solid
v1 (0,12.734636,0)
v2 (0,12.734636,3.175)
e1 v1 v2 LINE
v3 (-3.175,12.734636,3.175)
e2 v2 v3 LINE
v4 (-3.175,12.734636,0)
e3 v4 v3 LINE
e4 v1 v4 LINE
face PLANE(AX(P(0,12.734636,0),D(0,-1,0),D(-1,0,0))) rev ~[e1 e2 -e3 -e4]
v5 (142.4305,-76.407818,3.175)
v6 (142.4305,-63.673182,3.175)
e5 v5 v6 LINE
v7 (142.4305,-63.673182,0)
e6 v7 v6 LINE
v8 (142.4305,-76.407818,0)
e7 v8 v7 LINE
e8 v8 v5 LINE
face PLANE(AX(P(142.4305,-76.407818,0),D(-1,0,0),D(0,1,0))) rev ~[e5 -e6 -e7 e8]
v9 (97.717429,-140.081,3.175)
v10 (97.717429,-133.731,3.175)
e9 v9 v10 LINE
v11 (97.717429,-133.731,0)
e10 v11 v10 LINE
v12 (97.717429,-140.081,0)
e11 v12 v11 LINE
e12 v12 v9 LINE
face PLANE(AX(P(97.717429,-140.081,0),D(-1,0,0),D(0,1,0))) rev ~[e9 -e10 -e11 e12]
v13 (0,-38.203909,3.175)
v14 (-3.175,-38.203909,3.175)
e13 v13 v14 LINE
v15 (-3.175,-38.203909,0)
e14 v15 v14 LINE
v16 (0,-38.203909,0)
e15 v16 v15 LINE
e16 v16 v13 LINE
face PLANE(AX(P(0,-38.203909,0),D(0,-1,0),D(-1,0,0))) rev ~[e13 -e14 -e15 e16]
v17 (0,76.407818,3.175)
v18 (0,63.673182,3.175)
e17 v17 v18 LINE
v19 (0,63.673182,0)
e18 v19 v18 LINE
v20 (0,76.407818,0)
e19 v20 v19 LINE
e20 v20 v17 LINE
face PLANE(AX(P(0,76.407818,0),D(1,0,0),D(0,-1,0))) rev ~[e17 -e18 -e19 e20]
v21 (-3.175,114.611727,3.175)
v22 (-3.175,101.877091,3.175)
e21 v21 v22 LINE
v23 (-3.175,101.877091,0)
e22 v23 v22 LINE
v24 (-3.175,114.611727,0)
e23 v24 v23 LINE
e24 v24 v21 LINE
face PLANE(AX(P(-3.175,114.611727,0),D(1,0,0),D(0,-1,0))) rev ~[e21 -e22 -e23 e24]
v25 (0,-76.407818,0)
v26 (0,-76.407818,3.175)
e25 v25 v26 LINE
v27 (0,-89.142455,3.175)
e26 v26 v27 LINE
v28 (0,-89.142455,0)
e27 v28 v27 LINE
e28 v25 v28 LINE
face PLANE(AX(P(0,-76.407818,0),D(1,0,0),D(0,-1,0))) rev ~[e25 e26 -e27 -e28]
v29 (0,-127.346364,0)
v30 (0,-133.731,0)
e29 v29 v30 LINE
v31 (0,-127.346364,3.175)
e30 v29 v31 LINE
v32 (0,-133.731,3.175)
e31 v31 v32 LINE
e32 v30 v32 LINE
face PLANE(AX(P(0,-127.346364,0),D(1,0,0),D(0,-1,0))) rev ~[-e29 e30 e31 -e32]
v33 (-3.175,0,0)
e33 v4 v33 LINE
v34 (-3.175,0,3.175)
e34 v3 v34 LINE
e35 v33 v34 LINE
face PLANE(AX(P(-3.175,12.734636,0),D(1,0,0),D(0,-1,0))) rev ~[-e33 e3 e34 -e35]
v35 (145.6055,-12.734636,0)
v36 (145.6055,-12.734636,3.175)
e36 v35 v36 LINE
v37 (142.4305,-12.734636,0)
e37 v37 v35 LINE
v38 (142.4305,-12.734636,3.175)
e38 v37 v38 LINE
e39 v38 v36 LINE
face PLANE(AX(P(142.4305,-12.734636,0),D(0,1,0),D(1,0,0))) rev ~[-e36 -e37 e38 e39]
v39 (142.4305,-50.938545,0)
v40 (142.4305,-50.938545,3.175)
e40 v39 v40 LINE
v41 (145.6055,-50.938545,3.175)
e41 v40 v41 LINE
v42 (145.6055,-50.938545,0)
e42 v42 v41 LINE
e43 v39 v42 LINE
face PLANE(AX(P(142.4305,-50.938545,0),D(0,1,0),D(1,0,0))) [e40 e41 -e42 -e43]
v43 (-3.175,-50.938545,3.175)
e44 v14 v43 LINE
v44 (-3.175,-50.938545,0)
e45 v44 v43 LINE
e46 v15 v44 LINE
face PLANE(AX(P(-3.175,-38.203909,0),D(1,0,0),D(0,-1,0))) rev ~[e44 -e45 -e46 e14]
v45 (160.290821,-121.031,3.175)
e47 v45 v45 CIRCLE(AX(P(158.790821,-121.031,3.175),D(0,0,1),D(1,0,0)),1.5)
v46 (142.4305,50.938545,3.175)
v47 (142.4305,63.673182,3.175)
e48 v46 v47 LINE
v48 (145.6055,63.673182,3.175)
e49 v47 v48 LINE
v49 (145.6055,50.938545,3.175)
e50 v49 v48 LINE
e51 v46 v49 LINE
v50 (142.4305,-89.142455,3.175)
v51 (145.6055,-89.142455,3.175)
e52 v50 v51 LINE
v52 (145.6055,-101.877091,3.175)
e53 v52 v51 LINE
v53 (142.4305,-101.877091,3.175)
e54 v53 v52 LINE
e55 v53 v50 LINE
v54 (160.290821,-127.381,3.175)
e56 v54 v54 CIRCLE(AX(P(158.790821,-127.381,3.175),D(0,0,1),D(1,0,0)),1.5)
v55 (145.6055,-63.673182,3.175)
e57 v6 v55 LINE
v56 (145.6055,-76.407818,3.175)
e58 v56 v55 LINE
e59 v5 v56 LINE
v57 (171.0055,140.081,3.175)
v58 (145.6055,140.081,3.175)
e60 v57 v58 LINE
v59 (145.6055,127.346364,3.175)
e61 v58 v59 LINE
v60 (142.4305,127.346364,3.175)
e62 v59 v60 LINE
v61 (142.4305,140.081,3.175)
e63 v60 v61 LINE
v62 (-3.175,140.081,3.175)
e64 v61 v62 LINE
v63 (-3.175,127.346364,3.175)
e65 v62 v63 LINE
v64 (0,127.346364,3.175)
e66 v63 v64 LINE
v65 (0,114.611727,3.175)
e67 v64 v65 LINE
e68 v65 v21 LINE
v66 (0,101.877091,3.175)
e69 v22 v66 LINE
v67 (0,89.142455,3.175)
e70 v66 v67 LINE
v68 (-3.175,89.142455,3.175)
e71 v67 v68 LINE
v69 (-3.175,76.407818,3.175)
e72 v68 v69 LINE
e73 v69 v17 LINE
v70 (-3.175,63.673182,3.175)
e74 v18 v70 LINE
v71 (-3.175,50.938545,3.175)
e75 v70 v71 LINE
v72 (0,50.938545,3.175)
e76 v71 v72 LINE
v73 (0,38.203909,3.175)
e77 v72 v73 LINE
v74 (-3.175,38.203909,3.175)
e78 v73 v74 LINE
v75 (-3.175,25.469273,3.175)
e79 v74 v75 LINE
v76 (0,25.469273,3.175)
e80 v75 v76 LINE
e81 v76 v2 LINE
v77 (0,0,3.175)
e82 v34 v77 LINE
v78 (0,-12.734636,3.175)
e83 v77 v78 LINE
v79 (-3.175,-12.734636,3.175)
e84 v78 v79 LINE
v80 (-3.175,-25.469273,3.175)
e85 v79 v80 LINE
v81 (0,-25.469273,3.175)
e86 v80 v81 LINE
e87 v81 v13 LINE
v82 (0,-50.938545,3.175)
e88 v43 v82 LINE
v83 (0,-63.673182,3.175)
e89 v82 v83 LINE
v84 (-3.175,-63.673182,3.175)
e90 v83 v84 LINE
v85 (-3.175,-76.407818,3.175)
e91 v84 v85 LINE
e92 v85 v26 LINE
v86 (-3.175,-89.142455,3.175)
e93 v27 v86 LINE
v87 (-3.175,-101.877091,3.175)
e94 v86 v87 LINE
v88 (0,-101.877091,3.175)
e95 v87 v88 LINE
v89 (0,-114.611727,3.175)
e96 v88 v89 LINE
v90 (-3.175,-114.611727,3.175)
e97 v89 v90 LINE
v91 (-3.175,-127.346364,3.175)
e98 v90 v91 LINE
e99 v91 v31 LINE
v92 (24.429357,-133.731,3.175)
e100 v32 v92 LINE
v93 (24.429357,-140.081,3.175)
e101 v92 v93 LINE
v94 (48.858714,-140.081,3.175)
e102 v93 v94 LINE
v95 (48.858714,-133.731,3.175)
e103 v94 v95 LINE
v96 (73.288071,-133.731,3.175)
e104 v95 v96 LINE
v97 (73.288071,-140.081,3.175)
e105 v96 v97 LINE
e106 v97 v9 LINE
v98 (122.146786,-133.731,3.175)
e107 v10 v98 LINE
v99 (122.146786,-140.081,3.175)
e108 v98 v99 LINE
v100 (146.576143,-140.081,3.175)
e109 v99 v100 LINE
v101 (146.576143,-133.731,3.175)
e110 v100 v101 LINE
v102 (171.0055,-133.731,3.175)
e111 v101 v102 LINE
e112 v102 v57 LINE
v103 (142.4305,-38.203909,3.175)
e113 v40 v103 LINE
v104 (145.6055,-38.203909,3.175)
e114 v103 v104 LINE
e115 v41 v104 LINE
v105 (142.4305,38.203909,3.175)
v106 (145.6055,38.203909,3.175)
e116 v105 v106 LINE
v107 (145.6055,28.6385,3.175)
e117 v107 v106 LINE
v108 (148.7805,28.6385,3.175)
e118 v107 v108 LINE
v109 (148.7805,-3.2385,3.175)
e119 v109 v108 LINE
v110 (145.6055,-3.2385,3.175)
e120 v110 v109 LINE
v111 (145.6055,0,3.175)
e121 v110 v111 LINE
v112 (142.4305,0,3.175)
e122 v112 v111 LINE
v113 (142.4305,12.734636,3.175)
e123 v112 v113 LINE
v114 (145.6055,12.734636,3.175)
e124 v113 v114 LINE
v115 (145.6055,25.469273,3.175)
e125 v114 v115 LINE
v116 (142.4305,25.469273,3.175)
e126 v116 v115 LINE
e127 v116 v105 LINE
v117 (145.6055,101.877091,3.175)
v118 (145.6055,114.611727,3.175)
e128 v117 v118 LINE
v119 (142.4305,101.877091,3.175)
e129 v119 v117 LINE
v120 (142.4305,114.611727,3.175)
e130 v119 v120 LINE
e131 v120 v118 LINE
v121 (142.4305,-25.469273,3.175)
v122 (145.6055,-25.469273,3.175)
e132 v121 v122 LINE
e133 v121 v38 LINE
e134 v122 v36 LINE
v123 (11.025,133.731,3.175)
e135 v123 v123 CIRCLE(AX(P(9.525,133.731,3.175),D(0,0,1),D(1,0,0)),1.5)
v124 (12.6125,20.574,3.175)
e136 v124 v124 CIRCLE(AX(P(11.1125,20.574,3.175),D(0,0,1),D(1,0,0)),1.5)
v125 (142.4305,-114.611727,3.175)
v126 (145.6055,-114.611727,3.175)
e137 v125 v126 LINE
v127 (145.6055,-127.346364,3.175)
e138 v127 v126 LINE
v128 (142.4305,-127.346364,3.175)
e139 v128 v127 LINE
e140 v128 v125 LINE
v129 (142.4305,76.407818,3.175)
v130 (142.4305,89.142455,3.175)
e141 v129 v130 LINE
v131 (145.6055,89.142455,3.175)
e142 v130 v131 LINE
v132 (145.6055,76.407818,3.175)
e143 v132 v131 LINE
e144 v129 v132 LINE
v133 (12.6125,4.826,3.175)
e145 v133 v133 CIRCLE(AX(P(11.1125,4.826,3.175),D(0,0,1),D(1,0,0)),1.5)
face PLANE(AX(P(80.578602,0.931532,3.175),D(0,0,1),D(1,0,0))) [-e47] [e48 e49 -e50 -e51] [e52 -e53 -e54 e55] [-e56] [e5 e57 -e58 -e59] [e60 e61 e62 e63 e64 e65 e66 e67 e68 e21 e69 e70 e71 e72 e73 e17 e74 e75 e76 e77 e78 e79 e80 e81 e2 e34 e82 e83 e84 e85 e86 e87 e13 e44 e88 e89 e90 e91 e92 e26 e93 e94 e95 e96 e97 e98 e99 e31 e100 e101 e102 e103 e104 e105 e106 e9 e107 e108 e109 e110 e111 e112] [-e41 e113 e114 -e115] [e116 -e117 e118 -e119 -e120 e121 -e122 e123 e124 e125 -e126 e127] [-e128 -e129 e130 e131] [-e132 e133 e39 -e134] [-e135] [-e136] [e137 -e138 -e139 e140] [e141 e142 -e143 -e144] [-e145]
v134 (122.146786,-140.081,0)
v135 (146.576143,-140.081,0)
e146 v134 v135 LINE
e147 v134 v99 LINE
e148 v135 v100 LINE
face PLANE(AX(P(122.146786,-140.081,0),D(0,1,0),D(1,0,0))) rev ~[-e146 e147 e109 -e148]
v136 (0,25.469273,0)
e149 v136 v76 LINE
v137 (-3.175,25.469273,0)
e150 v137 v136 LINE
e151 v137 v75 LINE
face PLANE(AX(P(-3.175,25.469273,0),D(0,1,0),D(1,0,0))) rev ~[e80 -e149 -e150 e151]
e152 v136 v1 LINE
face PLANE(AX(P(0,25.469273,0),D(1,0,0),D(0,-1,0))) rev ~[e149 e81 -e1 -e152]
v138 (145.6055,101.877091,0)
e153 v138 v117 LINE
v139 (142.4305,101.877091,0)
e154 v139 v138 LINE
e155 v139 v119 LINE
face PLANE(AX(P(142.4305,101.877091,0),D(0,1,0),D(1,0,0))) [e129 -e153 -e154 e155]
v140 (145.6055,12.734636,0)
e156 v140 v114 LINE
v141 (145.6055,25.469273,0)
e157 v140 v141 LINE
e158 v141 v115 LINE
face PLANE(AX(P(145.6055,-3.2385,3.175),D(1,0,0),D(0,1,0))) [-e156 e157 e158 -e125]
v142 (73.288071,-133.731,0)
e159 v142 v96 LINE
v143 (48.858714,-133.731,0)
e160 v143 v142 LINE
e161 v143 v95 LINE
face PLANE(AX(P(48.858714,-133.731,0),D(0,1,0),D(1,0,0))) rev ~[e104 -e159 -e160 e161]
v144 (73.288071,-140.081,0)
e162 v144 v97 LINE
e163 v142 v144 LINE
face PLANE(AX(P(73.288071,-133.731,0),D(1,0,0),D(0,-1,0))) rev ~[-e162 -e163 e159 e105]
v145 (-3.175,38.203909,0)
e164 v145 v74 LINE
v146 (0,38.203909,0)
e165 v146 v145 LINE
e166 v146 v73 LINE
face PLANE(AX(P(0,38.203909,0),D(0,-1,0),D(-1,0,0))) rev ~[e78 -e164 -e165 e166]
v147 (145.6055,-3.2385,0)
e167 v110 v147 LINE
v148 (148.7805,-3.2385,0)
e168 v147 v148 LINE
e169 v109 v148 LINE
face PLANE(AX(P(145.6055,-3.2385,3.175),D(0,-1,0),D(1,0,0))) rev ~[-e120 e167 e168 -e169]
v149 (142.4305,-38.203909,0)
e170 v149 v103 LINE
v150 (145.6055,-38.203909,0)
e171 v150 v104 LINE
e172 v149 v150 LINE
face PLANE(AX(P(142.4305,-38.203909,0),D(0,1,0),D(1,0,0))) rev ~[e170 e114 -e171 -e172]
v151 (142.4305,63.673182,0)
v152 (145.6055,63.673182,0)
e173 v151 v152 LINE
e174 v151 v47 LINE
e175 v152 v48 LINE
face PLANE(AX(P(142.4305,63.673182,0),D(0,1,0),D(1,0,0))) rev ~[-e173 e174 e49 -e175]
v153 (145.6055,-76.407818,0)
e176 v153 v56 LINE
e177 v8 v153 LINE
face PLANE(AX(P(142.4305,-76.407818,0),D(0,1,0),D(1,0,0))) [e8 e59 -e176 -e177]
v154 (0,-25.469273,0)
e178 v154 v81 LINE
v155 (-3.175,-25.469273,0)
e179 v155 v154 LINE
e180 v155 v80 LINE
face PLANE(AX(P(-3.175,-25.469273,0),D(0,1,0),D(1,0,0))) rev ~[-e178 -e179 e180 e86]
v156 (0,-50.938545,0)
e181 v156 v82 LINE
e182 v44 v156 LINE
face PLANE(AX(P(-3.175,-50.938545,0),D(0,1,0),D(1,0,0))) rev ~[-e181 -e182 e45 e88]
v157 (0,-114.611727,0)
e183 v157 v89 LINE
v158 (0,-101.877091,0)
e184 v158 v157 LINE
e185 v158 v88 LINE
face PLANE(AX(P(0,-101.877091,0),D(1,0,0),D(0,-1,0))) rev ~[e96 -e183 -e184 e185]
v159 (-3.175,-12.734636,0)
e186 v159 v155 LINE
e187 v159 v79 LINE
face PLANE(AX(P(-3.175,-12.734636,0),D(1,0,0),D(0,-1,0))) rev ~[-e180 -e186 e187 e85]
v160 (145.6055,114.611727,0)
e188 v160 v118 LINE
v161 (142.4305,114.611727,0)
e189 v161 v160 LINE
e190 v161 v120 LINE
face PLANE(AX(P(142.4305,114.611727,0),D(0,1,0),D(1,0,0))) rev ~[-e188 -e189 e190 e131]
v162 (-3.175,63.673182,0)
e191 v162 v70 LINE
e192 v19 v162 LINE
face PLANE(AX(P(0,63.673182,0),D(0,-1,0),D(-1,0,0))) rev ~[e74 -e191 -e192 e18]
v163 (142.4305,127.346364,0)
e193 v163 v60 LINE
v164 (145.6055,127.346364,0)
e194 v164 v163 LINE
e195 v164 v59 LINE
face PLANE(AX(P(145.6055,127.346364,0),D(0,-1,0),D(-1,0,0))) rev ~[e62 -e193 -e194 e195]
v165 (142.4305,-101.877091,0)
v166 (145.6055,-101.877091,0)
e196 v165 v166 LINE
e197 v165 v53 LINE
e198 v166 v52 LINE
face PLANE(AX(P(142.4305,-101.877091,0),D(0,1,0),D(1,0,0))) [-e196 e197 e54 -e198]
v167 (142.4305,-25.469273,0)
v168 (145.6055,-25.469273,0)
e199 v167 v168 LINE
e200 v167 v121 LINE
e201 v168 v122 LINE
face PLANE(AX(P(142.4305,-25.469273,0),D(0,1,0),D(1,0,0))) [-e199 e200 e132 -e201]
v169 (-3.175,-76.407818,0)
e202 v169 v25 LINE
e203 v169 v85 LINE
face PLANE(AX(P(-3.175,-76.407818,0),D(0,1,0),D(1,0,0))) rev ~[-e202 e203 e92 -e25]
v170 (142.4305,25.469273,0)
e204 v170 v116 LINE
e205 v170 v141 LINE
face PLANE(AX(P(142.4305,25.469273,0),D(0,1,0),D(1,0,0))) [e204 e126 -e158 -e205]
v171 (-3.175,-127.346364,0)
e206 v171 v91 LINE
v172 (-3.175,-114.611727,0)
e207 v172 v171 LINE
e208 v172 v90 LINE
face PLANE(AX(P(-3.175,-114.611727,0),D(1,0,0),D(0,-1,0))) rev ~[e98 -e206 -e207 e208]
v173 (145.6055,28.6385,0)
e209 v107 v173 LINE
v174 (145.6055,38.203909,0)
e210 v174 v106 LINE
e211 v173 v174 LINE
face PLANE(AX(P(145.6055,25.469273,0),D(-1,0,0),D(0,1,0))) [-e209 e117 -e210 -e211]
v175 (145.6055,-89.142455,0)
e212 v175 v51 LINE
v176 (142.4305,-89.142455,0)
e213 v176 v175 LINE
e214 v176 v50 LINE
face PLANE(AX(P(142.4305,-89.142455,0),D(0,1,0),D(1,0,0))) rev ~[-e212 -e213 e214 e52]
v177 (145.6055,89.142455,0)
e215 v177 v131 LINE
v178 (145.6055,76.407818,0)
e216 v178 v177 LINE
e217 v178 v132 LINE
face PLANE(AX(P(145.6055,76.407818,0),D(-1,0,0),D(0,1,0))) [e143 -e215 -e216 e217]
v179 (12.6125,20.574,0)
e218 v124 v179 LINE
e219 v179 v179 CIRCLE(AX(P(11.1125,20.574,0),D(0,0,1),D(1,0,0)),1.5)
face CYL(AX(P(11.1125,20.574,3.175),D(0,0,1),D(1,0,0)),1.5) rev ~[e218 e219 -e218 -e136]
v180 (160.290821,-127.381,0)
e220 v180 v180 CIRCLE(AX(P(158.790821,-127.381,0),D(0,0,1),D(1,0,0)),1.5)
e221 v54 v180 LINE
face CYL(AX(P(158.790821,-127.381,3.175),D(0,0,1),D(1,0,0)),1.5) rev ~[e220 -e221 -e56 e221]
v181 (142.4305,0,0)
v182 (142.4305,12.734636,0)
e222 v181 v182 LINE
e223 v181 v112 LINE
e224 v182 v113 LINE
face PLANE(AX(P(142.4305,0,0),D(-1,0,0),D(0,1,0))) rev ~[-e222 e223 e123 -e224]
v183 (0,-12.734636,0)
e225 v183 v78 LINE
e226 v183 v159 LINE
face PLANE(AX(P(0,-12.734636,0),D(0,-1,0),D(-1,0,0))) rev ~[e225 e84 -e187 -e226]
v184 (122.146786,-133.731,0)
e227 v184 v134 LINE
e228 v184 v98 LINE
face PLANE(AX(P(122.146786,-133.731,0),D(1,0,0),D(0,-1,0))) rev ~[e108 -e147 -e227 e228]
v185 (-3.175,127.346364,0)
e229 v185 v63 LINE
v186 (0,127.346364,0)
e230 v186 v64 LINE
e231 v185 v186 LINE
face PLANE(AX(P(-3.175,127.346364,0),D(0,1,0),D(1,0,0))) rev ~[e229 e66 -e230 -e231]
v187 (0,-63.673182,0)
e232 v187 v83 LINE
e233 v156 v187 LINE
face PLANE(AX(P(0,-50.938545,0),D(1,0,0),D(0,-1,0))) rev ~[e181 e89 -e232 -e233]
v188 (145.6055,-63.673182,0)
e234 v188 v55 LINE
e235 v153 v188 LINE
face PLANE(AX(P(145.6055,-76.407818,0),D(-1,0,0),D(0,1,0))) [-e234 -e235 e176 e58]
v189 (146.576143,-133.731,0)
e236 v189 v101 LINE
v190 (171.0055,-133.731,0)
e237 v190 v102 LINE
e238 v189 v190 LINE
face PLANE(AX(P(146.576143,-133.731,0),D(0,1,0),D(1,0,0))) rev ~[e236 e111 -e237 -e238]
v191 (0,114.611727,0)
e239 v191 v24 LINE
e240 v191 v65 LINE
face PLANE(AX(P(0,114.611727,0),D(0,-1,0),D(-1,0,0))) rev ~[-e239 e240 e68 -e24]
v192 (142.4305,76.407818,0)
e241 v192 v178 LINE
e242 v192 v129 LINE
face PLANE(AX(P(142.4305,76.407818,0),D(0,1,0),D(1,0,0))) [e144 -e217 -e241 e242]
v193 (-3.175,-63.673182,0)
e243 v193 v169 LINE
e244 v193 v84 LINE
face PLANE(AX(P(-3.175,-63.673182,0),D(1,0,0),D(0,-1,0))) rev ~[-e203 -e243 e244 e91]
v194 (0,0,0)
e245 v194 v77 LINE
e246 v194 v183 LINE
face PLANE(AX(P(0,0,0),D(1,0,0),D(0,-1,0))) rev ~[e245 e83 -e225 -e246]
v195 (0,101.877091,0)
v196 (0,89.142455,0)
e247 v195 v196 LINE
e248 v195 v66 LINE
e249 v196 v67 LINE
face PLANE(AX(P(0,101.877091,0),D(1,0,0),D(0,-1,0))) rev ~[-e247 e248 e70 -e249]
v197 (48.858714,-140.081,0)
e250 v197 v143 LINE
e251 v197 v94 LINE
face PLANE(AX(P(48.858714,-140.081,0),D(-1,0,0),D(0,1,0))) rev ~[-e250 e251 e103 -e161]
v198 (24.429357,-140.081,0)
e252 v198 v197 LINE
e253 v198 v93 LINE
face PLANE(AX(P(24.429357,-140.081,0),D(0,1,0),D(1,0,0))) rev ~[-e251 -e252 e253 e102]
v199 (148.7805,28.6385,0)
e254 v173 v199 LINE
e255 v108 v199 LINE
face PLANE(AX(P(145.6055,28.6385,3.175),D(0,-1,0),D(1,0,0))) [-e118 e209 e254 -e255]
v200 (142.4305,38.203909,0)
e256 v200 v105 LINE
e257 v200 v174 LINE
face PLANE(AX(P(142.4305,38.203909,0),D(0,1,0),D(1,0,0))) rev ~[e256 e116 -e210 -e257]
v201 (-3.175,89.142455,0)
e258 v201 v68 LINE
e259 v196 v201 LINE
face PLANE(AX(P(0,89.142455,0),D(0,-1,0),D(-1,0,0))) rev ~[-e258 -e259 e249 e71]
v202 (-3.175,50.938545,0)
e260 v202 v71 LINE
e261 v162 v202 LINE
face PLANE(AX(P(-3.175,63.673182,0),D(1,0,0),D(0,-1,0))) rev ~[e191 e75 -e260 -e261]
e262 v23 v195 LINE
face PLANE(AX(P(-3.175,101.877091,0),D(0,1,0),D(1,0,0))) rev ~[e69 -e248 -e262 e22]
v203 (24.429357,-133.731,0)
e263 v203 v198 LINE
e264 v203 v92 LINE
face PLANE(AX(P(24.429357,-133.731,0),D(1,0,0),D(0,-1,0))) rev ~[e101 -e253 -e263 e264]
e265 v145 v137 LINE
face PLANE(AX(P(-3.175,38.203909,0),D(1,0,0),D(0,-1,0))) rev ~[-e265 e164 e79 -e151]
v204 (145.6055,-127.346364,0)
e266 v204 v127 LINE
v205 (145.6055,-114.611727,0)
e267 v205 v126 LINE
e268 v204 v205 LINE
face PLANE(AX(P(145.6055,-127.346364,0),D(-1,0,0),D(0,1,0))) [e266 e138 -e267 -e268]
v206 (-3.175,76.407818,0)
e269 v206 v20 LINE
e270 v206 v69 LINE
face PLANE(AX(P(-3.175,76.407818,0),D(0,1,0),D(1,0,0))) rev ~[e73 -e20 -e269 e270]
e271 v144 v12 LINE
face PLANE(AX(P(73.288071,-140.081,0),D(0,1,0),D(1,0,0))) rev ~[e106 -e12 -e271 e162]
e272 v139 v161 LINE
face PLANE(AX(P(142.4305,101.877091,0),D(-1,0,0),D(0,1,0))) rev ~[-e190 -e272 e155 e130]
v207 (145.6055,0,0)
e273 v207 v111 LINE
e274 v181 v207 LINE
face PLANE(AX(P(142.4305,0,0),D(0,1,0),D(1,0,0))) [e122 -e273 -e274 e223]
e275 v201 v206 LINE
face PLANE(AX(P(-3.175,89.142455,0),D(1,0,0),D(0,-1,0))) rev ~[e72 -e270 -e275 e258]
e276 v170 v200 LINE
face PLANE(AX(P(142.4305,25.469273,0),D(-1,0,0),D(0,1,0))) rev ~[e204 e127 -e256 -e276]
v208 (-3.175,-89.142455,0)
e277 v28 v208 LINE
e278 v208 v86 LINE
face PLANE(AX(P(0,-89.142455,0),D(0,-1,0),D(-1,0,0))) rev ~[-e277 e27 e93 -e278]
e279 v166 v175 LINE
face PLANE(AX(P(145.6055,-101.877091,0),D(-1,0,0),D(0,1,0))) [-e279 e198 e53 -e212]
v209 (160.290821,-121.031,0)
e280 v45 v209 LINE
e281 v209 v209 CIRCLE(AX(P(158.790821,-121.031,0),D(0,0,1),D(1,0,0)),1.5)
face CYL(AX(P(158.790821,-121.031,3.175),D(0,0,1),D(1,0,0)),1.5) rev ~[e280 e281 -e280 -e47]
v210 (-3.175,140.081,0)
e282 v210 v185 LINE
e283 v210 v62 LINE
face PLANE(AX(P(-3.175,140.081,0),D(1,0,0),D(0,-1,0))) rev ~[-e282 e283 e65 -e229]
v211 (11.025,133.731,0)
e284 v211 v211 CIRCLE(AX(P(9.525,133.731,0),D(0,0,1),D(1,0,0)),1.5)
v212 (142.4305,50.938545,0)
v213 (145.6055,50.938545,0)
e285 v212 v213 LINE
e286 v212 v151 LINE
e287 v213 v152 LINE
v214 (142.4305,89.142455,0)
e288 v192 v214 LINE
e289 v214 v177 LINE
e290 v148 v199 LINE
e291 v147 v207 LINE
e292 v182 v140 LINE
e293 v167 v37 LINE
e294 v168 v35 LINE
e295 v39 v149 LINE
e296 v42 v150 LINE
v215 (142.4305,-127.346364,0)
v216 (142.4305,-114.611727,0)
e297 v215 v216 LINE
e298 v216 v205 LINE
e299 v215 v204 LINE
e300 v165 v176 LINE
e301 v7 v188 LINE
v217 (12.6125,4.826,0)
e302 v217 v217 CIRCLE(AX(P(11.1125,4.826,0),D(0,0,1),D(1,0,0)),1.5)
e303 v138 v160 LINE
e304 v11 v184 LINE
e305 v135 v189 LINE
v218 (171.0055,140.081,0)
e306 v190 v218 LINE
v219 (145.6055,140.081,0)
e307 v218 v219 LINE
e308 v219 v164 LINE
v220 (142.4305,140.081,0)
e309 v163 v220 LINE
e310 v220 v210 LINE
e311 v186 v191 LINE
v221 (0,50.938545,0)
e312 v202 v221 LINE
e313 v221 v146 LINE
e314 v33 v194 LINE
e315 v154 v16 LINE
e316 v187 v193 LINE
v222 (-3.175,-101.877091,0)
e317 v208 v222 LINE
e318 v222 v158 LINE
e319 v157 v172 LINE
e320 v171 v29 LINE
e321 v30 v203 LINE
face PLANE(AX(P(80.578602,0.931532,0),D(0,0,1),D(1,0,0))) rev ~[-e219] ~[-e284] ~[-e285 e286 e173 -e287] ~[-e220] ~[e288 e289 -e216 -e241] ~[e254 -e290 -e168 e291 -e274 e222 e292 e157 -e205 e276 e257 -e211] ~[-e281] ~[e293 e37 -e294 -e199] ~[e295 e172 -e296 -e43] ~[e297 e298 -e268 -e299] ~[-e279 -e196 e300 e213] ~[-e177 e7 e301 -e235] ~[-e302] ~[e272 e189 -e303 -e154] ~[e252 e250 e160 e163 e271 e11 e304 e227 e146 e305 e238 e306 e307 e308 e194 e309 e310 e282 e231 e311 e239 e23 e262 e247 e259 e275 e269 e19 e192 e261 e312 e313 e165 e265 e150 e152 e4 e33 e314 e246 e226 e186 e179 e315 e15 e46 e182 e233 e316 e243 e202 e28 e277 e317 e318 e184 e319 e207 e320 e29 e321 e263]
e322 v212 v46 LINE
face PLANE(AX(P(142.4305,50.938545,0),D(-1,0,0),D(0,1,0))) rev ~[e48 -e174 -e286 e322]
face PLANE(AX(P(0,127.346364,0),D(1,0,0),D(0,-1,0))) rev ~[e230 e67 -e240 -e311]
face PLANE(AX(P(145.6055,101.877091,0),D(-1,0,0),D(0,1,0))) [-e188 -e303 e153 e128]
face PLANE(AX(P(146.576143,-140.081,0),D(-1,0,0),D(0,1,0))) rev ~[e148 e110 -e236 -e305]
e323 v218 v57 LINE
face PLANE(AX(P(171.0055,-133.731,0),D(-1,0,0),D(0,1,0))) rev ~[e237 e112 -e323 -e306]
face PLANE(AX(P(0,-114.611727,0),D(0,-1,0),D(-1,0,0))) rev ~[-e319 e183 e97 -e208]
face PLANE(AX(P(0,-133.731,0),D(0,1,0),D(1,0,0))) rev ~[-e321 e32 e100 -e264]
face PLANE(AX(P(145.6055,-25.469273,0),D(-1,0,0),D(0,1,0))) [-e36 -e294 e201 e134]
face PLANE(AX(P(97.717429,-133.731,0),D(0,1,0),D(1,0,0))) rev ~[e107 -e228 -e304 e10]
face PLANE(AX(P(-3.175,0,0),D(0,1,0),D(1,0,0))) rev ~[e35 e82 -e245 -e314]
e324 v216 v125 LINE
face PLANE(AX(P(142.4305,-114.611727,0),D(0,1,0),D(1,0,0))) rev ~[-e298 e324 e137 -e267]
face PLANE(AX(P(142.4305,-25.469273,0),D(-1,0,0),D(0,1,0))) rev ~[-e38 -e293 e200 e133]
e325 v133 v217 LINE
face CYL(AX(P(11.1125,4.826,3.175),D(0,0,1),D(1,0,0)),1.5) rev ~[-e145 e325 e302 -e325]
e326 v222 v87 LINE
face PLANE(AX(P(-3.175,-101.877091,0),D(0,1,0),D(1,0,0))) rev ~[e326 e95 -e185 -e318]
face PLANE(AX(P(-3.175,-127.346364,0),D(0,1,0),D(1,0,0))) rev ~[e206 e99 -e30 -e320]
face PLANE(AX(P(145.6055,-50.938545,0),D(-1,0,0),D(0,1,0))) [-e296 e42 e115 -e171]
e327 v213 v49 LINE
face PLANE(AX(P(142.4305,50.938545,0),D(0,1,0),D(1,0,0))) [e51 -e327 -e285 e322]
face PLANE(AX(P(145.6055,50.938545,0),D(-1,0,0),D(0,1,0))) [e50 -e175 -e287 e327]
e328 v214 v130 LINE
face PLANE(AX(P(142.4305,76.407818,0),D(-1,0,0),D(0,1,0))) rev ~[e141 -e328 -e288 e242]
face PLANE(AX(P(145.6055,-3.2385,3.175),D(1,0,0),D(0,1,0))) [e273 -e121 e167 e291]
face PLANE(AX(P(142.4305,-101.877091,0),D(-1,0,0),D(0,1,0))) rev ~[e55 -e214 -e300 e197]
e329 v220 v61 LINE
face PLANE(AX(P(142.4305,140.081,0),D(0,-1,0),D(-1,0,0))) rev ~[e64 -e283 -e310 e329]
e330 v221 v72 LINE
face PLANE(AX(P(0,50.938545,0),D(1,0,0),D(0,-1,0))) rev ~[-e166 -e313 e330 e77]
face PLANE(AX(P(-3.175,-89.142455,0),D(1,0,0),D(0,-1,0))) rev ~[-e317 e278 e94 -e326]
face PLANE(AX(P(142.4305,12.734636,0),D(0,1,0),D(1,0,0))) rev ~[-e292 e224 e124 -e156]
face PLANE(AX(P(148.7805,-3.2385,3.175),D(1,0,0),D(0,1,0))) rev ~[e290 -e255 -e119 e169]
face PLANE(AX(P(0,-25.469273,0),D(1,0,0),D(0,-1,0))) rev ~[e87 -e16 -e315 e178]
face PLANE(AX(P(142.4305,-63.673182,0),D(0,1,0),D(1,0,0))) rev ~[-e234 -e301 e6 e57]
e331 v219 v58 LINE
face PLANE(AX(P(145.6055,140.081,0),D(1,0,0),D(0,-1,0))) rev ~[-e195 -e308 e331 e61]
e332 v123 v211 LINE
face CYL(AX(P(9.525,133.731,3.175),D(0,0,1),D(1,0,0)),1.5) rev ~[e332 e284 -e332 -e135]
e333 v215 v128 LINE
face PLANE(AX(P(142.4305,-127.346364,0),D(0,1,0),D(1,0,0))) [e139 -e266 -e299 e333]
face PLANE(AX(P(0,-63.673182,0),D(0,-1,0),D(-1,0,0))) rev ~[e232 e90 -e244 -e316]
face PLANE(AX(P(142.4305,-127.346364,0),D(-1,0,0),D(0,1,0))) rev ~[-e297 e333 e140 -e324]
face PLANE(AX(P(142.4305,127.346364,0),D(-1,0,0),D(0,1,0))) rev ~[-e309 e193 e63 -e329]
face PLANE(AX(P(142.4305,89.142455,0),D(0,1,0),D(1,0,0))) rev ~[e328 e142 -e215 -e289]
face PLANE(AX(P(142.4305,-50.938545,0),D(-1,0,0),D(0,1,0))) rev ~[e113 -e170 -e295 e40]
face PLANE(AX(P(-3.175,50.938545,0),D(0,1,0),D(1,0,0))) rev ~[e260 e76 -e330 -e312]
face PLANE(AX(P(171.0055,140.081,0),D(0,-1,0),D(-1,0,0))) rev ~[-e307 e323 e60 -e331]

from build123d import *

# Parameters (mm, degrees)
SKETCH1_W           = 3.175
SKETCH1_H           = 12.734636364
SKETCH1_H_2         = 12.734636363
BOSS_EXTRUDE1_DEPTH = 3.175
SKETCH2_R           = 1.5
SKETCH2_W           = 3.175
SKETCH2_H           = 31.877
CUT_EXTRUDE1_DEPTH  = 4.175


with BuildPart() as part:
    # Sketch1 → Boss-Extrude1 (new body)
    with BuildSketch(Plane.XY):
        Polygon((24.429357143, -133.731), (24.429357143, -140.081), (48.858714286, -140.081), (48.858714286, -133.731), (73.288071429, -133.731), (73.288071429, -140.081), (97.717428571, -140.081), (97.717428571, -133.731), (122.146785714, -133.731), (122.146785714, -140.081), (146.576142857, -140.081), (146.576142857, -133.731), (171.0055, -133.731), (171.0055, 140.081), (145.6055, 140.081), (145.6055, 127.346363636), (142.4305, 127.346363636), (142.4305, 140.081), (-3.175, 140.081), (-3.175, 127.346363636), (0, 127.346363636), (0, 114.611727273), (-3.175, 114.611727273), (-3.175, 101.877090909), (0, 101.877090909), (0, 89.142454545), (-3.175, 89.142454545), (-3.175, 76.407818182), (0, 76.407818182), (0, 63.673181818), (-3.175, 63.673181818), (-3.175, 50.938545455), (0, 50.938545455), (0, 38.203909091), (-3.175, 38.203909091), (-3.175, 25.469272727), (0, 25.469272727), (0, 12.734636364), (-3.175, 12.734636364), (-3.175, 0), (0, 0), (0, -12.734636364), (-3.175, -12.734636364), (-3.175, -25.469272727), (0, -25.469272727), (0, -38.203909091), (-3.175, -38.203909091), (-3.175, -50.938545455), (0, -50.938545455), (0, -63.673181818), (-3.175, -63.673181818), (-3.175, -76.407818182), (0, -76.407818182), (0, -89.142454545), (-3.175, -89.142454545), (-3.175, -101.877090909), (0, -101.877090909), (0, -114.611727273), (-3.175, -114.611727273), (-3.175, -127.346363636), (0, -127.346363636), (0, -133.731), align=None)
        with Locations((144.018, 108.244409091)):
            Rectangle(SKETCH1_W, SKETCH1_H, mode=Mode.SUBTRACT)
        with Locations((144.018, -120.979045455)):
            Rectangle(SKETCH1_W, SKETCH1_H_2, mode=Mode.SUBTRACT)
        with Locations((144.018, -95.509772727)):
            Rectangle(SKETCH1_W, SKETCH1_H, mode=Mode.SUBTRACT)
        with Locations((144.018, -70.0405)):
            Rectangle(SKETCH1_W, SKETCH1_H, mode=Mode.SUBTRACT)
        with Locations((144.018, -44.571227273)):
            Rectangle(SKETCH1_W, SKETCH1_H, mode=Mode.SUBTRACT)
        with Locations((144.018, -19.101954545)):
            Rectangle(SKETCH1_W, SKETCH1_H_2, mode=Mode.SUBTRACT)
        with Locations((144.018, 6.367318182)):
            Rectangle(SKETCH1_W, SKETCH1_H, mode=Mode.SUBTRACT)
        with Locations((144.018, 31.836590909)):
            Rectangle(SKETCH1_W, SKETCH1_H, mode=Mode.SUBTRACT)
        with Locations((144.018, 57.305863637)):
            Rectangle(SKETCH1_W, SKETCH1_H_2, mode=Mode.SUBTRACT)
        with Locations((144.018, 82.775136363)):
            Rectangle(SKETCH1_W, SKETCH1_H_2, mode=Mode.SUBTRACT)
    extrude(amount=BOSS_EXTRUDE1_DEPTH)

    # Sketch2 → Cut-Extrude1 (cut, through all)
    with BuildSketch(Plane.XY.offset(3.175)):
        with Locations((158.790821429, -121.031)):
            Circle(SKETCH2_R)
        with Locations((11.1125, 20.574)):
            Circle(SKETCH2_R)
        with Locations((11.1125, 4.826)):
            Circle(SKETCH2_R)
        with Locations((158.790821429, -127.381)):
            Circle(SKETCH2_R)
        with Locations((9.525, 133.731)):
            Circle(SKETCH2_R)
        with Locations((147.193, 12.7)):
            Rectangle(SKETCH2_W, SKETCH2_H)
    extrude(amount=-CUT_EXTRUDE1_DEPTH, mode=Mode.SUBTRACT)


solid = part.part
